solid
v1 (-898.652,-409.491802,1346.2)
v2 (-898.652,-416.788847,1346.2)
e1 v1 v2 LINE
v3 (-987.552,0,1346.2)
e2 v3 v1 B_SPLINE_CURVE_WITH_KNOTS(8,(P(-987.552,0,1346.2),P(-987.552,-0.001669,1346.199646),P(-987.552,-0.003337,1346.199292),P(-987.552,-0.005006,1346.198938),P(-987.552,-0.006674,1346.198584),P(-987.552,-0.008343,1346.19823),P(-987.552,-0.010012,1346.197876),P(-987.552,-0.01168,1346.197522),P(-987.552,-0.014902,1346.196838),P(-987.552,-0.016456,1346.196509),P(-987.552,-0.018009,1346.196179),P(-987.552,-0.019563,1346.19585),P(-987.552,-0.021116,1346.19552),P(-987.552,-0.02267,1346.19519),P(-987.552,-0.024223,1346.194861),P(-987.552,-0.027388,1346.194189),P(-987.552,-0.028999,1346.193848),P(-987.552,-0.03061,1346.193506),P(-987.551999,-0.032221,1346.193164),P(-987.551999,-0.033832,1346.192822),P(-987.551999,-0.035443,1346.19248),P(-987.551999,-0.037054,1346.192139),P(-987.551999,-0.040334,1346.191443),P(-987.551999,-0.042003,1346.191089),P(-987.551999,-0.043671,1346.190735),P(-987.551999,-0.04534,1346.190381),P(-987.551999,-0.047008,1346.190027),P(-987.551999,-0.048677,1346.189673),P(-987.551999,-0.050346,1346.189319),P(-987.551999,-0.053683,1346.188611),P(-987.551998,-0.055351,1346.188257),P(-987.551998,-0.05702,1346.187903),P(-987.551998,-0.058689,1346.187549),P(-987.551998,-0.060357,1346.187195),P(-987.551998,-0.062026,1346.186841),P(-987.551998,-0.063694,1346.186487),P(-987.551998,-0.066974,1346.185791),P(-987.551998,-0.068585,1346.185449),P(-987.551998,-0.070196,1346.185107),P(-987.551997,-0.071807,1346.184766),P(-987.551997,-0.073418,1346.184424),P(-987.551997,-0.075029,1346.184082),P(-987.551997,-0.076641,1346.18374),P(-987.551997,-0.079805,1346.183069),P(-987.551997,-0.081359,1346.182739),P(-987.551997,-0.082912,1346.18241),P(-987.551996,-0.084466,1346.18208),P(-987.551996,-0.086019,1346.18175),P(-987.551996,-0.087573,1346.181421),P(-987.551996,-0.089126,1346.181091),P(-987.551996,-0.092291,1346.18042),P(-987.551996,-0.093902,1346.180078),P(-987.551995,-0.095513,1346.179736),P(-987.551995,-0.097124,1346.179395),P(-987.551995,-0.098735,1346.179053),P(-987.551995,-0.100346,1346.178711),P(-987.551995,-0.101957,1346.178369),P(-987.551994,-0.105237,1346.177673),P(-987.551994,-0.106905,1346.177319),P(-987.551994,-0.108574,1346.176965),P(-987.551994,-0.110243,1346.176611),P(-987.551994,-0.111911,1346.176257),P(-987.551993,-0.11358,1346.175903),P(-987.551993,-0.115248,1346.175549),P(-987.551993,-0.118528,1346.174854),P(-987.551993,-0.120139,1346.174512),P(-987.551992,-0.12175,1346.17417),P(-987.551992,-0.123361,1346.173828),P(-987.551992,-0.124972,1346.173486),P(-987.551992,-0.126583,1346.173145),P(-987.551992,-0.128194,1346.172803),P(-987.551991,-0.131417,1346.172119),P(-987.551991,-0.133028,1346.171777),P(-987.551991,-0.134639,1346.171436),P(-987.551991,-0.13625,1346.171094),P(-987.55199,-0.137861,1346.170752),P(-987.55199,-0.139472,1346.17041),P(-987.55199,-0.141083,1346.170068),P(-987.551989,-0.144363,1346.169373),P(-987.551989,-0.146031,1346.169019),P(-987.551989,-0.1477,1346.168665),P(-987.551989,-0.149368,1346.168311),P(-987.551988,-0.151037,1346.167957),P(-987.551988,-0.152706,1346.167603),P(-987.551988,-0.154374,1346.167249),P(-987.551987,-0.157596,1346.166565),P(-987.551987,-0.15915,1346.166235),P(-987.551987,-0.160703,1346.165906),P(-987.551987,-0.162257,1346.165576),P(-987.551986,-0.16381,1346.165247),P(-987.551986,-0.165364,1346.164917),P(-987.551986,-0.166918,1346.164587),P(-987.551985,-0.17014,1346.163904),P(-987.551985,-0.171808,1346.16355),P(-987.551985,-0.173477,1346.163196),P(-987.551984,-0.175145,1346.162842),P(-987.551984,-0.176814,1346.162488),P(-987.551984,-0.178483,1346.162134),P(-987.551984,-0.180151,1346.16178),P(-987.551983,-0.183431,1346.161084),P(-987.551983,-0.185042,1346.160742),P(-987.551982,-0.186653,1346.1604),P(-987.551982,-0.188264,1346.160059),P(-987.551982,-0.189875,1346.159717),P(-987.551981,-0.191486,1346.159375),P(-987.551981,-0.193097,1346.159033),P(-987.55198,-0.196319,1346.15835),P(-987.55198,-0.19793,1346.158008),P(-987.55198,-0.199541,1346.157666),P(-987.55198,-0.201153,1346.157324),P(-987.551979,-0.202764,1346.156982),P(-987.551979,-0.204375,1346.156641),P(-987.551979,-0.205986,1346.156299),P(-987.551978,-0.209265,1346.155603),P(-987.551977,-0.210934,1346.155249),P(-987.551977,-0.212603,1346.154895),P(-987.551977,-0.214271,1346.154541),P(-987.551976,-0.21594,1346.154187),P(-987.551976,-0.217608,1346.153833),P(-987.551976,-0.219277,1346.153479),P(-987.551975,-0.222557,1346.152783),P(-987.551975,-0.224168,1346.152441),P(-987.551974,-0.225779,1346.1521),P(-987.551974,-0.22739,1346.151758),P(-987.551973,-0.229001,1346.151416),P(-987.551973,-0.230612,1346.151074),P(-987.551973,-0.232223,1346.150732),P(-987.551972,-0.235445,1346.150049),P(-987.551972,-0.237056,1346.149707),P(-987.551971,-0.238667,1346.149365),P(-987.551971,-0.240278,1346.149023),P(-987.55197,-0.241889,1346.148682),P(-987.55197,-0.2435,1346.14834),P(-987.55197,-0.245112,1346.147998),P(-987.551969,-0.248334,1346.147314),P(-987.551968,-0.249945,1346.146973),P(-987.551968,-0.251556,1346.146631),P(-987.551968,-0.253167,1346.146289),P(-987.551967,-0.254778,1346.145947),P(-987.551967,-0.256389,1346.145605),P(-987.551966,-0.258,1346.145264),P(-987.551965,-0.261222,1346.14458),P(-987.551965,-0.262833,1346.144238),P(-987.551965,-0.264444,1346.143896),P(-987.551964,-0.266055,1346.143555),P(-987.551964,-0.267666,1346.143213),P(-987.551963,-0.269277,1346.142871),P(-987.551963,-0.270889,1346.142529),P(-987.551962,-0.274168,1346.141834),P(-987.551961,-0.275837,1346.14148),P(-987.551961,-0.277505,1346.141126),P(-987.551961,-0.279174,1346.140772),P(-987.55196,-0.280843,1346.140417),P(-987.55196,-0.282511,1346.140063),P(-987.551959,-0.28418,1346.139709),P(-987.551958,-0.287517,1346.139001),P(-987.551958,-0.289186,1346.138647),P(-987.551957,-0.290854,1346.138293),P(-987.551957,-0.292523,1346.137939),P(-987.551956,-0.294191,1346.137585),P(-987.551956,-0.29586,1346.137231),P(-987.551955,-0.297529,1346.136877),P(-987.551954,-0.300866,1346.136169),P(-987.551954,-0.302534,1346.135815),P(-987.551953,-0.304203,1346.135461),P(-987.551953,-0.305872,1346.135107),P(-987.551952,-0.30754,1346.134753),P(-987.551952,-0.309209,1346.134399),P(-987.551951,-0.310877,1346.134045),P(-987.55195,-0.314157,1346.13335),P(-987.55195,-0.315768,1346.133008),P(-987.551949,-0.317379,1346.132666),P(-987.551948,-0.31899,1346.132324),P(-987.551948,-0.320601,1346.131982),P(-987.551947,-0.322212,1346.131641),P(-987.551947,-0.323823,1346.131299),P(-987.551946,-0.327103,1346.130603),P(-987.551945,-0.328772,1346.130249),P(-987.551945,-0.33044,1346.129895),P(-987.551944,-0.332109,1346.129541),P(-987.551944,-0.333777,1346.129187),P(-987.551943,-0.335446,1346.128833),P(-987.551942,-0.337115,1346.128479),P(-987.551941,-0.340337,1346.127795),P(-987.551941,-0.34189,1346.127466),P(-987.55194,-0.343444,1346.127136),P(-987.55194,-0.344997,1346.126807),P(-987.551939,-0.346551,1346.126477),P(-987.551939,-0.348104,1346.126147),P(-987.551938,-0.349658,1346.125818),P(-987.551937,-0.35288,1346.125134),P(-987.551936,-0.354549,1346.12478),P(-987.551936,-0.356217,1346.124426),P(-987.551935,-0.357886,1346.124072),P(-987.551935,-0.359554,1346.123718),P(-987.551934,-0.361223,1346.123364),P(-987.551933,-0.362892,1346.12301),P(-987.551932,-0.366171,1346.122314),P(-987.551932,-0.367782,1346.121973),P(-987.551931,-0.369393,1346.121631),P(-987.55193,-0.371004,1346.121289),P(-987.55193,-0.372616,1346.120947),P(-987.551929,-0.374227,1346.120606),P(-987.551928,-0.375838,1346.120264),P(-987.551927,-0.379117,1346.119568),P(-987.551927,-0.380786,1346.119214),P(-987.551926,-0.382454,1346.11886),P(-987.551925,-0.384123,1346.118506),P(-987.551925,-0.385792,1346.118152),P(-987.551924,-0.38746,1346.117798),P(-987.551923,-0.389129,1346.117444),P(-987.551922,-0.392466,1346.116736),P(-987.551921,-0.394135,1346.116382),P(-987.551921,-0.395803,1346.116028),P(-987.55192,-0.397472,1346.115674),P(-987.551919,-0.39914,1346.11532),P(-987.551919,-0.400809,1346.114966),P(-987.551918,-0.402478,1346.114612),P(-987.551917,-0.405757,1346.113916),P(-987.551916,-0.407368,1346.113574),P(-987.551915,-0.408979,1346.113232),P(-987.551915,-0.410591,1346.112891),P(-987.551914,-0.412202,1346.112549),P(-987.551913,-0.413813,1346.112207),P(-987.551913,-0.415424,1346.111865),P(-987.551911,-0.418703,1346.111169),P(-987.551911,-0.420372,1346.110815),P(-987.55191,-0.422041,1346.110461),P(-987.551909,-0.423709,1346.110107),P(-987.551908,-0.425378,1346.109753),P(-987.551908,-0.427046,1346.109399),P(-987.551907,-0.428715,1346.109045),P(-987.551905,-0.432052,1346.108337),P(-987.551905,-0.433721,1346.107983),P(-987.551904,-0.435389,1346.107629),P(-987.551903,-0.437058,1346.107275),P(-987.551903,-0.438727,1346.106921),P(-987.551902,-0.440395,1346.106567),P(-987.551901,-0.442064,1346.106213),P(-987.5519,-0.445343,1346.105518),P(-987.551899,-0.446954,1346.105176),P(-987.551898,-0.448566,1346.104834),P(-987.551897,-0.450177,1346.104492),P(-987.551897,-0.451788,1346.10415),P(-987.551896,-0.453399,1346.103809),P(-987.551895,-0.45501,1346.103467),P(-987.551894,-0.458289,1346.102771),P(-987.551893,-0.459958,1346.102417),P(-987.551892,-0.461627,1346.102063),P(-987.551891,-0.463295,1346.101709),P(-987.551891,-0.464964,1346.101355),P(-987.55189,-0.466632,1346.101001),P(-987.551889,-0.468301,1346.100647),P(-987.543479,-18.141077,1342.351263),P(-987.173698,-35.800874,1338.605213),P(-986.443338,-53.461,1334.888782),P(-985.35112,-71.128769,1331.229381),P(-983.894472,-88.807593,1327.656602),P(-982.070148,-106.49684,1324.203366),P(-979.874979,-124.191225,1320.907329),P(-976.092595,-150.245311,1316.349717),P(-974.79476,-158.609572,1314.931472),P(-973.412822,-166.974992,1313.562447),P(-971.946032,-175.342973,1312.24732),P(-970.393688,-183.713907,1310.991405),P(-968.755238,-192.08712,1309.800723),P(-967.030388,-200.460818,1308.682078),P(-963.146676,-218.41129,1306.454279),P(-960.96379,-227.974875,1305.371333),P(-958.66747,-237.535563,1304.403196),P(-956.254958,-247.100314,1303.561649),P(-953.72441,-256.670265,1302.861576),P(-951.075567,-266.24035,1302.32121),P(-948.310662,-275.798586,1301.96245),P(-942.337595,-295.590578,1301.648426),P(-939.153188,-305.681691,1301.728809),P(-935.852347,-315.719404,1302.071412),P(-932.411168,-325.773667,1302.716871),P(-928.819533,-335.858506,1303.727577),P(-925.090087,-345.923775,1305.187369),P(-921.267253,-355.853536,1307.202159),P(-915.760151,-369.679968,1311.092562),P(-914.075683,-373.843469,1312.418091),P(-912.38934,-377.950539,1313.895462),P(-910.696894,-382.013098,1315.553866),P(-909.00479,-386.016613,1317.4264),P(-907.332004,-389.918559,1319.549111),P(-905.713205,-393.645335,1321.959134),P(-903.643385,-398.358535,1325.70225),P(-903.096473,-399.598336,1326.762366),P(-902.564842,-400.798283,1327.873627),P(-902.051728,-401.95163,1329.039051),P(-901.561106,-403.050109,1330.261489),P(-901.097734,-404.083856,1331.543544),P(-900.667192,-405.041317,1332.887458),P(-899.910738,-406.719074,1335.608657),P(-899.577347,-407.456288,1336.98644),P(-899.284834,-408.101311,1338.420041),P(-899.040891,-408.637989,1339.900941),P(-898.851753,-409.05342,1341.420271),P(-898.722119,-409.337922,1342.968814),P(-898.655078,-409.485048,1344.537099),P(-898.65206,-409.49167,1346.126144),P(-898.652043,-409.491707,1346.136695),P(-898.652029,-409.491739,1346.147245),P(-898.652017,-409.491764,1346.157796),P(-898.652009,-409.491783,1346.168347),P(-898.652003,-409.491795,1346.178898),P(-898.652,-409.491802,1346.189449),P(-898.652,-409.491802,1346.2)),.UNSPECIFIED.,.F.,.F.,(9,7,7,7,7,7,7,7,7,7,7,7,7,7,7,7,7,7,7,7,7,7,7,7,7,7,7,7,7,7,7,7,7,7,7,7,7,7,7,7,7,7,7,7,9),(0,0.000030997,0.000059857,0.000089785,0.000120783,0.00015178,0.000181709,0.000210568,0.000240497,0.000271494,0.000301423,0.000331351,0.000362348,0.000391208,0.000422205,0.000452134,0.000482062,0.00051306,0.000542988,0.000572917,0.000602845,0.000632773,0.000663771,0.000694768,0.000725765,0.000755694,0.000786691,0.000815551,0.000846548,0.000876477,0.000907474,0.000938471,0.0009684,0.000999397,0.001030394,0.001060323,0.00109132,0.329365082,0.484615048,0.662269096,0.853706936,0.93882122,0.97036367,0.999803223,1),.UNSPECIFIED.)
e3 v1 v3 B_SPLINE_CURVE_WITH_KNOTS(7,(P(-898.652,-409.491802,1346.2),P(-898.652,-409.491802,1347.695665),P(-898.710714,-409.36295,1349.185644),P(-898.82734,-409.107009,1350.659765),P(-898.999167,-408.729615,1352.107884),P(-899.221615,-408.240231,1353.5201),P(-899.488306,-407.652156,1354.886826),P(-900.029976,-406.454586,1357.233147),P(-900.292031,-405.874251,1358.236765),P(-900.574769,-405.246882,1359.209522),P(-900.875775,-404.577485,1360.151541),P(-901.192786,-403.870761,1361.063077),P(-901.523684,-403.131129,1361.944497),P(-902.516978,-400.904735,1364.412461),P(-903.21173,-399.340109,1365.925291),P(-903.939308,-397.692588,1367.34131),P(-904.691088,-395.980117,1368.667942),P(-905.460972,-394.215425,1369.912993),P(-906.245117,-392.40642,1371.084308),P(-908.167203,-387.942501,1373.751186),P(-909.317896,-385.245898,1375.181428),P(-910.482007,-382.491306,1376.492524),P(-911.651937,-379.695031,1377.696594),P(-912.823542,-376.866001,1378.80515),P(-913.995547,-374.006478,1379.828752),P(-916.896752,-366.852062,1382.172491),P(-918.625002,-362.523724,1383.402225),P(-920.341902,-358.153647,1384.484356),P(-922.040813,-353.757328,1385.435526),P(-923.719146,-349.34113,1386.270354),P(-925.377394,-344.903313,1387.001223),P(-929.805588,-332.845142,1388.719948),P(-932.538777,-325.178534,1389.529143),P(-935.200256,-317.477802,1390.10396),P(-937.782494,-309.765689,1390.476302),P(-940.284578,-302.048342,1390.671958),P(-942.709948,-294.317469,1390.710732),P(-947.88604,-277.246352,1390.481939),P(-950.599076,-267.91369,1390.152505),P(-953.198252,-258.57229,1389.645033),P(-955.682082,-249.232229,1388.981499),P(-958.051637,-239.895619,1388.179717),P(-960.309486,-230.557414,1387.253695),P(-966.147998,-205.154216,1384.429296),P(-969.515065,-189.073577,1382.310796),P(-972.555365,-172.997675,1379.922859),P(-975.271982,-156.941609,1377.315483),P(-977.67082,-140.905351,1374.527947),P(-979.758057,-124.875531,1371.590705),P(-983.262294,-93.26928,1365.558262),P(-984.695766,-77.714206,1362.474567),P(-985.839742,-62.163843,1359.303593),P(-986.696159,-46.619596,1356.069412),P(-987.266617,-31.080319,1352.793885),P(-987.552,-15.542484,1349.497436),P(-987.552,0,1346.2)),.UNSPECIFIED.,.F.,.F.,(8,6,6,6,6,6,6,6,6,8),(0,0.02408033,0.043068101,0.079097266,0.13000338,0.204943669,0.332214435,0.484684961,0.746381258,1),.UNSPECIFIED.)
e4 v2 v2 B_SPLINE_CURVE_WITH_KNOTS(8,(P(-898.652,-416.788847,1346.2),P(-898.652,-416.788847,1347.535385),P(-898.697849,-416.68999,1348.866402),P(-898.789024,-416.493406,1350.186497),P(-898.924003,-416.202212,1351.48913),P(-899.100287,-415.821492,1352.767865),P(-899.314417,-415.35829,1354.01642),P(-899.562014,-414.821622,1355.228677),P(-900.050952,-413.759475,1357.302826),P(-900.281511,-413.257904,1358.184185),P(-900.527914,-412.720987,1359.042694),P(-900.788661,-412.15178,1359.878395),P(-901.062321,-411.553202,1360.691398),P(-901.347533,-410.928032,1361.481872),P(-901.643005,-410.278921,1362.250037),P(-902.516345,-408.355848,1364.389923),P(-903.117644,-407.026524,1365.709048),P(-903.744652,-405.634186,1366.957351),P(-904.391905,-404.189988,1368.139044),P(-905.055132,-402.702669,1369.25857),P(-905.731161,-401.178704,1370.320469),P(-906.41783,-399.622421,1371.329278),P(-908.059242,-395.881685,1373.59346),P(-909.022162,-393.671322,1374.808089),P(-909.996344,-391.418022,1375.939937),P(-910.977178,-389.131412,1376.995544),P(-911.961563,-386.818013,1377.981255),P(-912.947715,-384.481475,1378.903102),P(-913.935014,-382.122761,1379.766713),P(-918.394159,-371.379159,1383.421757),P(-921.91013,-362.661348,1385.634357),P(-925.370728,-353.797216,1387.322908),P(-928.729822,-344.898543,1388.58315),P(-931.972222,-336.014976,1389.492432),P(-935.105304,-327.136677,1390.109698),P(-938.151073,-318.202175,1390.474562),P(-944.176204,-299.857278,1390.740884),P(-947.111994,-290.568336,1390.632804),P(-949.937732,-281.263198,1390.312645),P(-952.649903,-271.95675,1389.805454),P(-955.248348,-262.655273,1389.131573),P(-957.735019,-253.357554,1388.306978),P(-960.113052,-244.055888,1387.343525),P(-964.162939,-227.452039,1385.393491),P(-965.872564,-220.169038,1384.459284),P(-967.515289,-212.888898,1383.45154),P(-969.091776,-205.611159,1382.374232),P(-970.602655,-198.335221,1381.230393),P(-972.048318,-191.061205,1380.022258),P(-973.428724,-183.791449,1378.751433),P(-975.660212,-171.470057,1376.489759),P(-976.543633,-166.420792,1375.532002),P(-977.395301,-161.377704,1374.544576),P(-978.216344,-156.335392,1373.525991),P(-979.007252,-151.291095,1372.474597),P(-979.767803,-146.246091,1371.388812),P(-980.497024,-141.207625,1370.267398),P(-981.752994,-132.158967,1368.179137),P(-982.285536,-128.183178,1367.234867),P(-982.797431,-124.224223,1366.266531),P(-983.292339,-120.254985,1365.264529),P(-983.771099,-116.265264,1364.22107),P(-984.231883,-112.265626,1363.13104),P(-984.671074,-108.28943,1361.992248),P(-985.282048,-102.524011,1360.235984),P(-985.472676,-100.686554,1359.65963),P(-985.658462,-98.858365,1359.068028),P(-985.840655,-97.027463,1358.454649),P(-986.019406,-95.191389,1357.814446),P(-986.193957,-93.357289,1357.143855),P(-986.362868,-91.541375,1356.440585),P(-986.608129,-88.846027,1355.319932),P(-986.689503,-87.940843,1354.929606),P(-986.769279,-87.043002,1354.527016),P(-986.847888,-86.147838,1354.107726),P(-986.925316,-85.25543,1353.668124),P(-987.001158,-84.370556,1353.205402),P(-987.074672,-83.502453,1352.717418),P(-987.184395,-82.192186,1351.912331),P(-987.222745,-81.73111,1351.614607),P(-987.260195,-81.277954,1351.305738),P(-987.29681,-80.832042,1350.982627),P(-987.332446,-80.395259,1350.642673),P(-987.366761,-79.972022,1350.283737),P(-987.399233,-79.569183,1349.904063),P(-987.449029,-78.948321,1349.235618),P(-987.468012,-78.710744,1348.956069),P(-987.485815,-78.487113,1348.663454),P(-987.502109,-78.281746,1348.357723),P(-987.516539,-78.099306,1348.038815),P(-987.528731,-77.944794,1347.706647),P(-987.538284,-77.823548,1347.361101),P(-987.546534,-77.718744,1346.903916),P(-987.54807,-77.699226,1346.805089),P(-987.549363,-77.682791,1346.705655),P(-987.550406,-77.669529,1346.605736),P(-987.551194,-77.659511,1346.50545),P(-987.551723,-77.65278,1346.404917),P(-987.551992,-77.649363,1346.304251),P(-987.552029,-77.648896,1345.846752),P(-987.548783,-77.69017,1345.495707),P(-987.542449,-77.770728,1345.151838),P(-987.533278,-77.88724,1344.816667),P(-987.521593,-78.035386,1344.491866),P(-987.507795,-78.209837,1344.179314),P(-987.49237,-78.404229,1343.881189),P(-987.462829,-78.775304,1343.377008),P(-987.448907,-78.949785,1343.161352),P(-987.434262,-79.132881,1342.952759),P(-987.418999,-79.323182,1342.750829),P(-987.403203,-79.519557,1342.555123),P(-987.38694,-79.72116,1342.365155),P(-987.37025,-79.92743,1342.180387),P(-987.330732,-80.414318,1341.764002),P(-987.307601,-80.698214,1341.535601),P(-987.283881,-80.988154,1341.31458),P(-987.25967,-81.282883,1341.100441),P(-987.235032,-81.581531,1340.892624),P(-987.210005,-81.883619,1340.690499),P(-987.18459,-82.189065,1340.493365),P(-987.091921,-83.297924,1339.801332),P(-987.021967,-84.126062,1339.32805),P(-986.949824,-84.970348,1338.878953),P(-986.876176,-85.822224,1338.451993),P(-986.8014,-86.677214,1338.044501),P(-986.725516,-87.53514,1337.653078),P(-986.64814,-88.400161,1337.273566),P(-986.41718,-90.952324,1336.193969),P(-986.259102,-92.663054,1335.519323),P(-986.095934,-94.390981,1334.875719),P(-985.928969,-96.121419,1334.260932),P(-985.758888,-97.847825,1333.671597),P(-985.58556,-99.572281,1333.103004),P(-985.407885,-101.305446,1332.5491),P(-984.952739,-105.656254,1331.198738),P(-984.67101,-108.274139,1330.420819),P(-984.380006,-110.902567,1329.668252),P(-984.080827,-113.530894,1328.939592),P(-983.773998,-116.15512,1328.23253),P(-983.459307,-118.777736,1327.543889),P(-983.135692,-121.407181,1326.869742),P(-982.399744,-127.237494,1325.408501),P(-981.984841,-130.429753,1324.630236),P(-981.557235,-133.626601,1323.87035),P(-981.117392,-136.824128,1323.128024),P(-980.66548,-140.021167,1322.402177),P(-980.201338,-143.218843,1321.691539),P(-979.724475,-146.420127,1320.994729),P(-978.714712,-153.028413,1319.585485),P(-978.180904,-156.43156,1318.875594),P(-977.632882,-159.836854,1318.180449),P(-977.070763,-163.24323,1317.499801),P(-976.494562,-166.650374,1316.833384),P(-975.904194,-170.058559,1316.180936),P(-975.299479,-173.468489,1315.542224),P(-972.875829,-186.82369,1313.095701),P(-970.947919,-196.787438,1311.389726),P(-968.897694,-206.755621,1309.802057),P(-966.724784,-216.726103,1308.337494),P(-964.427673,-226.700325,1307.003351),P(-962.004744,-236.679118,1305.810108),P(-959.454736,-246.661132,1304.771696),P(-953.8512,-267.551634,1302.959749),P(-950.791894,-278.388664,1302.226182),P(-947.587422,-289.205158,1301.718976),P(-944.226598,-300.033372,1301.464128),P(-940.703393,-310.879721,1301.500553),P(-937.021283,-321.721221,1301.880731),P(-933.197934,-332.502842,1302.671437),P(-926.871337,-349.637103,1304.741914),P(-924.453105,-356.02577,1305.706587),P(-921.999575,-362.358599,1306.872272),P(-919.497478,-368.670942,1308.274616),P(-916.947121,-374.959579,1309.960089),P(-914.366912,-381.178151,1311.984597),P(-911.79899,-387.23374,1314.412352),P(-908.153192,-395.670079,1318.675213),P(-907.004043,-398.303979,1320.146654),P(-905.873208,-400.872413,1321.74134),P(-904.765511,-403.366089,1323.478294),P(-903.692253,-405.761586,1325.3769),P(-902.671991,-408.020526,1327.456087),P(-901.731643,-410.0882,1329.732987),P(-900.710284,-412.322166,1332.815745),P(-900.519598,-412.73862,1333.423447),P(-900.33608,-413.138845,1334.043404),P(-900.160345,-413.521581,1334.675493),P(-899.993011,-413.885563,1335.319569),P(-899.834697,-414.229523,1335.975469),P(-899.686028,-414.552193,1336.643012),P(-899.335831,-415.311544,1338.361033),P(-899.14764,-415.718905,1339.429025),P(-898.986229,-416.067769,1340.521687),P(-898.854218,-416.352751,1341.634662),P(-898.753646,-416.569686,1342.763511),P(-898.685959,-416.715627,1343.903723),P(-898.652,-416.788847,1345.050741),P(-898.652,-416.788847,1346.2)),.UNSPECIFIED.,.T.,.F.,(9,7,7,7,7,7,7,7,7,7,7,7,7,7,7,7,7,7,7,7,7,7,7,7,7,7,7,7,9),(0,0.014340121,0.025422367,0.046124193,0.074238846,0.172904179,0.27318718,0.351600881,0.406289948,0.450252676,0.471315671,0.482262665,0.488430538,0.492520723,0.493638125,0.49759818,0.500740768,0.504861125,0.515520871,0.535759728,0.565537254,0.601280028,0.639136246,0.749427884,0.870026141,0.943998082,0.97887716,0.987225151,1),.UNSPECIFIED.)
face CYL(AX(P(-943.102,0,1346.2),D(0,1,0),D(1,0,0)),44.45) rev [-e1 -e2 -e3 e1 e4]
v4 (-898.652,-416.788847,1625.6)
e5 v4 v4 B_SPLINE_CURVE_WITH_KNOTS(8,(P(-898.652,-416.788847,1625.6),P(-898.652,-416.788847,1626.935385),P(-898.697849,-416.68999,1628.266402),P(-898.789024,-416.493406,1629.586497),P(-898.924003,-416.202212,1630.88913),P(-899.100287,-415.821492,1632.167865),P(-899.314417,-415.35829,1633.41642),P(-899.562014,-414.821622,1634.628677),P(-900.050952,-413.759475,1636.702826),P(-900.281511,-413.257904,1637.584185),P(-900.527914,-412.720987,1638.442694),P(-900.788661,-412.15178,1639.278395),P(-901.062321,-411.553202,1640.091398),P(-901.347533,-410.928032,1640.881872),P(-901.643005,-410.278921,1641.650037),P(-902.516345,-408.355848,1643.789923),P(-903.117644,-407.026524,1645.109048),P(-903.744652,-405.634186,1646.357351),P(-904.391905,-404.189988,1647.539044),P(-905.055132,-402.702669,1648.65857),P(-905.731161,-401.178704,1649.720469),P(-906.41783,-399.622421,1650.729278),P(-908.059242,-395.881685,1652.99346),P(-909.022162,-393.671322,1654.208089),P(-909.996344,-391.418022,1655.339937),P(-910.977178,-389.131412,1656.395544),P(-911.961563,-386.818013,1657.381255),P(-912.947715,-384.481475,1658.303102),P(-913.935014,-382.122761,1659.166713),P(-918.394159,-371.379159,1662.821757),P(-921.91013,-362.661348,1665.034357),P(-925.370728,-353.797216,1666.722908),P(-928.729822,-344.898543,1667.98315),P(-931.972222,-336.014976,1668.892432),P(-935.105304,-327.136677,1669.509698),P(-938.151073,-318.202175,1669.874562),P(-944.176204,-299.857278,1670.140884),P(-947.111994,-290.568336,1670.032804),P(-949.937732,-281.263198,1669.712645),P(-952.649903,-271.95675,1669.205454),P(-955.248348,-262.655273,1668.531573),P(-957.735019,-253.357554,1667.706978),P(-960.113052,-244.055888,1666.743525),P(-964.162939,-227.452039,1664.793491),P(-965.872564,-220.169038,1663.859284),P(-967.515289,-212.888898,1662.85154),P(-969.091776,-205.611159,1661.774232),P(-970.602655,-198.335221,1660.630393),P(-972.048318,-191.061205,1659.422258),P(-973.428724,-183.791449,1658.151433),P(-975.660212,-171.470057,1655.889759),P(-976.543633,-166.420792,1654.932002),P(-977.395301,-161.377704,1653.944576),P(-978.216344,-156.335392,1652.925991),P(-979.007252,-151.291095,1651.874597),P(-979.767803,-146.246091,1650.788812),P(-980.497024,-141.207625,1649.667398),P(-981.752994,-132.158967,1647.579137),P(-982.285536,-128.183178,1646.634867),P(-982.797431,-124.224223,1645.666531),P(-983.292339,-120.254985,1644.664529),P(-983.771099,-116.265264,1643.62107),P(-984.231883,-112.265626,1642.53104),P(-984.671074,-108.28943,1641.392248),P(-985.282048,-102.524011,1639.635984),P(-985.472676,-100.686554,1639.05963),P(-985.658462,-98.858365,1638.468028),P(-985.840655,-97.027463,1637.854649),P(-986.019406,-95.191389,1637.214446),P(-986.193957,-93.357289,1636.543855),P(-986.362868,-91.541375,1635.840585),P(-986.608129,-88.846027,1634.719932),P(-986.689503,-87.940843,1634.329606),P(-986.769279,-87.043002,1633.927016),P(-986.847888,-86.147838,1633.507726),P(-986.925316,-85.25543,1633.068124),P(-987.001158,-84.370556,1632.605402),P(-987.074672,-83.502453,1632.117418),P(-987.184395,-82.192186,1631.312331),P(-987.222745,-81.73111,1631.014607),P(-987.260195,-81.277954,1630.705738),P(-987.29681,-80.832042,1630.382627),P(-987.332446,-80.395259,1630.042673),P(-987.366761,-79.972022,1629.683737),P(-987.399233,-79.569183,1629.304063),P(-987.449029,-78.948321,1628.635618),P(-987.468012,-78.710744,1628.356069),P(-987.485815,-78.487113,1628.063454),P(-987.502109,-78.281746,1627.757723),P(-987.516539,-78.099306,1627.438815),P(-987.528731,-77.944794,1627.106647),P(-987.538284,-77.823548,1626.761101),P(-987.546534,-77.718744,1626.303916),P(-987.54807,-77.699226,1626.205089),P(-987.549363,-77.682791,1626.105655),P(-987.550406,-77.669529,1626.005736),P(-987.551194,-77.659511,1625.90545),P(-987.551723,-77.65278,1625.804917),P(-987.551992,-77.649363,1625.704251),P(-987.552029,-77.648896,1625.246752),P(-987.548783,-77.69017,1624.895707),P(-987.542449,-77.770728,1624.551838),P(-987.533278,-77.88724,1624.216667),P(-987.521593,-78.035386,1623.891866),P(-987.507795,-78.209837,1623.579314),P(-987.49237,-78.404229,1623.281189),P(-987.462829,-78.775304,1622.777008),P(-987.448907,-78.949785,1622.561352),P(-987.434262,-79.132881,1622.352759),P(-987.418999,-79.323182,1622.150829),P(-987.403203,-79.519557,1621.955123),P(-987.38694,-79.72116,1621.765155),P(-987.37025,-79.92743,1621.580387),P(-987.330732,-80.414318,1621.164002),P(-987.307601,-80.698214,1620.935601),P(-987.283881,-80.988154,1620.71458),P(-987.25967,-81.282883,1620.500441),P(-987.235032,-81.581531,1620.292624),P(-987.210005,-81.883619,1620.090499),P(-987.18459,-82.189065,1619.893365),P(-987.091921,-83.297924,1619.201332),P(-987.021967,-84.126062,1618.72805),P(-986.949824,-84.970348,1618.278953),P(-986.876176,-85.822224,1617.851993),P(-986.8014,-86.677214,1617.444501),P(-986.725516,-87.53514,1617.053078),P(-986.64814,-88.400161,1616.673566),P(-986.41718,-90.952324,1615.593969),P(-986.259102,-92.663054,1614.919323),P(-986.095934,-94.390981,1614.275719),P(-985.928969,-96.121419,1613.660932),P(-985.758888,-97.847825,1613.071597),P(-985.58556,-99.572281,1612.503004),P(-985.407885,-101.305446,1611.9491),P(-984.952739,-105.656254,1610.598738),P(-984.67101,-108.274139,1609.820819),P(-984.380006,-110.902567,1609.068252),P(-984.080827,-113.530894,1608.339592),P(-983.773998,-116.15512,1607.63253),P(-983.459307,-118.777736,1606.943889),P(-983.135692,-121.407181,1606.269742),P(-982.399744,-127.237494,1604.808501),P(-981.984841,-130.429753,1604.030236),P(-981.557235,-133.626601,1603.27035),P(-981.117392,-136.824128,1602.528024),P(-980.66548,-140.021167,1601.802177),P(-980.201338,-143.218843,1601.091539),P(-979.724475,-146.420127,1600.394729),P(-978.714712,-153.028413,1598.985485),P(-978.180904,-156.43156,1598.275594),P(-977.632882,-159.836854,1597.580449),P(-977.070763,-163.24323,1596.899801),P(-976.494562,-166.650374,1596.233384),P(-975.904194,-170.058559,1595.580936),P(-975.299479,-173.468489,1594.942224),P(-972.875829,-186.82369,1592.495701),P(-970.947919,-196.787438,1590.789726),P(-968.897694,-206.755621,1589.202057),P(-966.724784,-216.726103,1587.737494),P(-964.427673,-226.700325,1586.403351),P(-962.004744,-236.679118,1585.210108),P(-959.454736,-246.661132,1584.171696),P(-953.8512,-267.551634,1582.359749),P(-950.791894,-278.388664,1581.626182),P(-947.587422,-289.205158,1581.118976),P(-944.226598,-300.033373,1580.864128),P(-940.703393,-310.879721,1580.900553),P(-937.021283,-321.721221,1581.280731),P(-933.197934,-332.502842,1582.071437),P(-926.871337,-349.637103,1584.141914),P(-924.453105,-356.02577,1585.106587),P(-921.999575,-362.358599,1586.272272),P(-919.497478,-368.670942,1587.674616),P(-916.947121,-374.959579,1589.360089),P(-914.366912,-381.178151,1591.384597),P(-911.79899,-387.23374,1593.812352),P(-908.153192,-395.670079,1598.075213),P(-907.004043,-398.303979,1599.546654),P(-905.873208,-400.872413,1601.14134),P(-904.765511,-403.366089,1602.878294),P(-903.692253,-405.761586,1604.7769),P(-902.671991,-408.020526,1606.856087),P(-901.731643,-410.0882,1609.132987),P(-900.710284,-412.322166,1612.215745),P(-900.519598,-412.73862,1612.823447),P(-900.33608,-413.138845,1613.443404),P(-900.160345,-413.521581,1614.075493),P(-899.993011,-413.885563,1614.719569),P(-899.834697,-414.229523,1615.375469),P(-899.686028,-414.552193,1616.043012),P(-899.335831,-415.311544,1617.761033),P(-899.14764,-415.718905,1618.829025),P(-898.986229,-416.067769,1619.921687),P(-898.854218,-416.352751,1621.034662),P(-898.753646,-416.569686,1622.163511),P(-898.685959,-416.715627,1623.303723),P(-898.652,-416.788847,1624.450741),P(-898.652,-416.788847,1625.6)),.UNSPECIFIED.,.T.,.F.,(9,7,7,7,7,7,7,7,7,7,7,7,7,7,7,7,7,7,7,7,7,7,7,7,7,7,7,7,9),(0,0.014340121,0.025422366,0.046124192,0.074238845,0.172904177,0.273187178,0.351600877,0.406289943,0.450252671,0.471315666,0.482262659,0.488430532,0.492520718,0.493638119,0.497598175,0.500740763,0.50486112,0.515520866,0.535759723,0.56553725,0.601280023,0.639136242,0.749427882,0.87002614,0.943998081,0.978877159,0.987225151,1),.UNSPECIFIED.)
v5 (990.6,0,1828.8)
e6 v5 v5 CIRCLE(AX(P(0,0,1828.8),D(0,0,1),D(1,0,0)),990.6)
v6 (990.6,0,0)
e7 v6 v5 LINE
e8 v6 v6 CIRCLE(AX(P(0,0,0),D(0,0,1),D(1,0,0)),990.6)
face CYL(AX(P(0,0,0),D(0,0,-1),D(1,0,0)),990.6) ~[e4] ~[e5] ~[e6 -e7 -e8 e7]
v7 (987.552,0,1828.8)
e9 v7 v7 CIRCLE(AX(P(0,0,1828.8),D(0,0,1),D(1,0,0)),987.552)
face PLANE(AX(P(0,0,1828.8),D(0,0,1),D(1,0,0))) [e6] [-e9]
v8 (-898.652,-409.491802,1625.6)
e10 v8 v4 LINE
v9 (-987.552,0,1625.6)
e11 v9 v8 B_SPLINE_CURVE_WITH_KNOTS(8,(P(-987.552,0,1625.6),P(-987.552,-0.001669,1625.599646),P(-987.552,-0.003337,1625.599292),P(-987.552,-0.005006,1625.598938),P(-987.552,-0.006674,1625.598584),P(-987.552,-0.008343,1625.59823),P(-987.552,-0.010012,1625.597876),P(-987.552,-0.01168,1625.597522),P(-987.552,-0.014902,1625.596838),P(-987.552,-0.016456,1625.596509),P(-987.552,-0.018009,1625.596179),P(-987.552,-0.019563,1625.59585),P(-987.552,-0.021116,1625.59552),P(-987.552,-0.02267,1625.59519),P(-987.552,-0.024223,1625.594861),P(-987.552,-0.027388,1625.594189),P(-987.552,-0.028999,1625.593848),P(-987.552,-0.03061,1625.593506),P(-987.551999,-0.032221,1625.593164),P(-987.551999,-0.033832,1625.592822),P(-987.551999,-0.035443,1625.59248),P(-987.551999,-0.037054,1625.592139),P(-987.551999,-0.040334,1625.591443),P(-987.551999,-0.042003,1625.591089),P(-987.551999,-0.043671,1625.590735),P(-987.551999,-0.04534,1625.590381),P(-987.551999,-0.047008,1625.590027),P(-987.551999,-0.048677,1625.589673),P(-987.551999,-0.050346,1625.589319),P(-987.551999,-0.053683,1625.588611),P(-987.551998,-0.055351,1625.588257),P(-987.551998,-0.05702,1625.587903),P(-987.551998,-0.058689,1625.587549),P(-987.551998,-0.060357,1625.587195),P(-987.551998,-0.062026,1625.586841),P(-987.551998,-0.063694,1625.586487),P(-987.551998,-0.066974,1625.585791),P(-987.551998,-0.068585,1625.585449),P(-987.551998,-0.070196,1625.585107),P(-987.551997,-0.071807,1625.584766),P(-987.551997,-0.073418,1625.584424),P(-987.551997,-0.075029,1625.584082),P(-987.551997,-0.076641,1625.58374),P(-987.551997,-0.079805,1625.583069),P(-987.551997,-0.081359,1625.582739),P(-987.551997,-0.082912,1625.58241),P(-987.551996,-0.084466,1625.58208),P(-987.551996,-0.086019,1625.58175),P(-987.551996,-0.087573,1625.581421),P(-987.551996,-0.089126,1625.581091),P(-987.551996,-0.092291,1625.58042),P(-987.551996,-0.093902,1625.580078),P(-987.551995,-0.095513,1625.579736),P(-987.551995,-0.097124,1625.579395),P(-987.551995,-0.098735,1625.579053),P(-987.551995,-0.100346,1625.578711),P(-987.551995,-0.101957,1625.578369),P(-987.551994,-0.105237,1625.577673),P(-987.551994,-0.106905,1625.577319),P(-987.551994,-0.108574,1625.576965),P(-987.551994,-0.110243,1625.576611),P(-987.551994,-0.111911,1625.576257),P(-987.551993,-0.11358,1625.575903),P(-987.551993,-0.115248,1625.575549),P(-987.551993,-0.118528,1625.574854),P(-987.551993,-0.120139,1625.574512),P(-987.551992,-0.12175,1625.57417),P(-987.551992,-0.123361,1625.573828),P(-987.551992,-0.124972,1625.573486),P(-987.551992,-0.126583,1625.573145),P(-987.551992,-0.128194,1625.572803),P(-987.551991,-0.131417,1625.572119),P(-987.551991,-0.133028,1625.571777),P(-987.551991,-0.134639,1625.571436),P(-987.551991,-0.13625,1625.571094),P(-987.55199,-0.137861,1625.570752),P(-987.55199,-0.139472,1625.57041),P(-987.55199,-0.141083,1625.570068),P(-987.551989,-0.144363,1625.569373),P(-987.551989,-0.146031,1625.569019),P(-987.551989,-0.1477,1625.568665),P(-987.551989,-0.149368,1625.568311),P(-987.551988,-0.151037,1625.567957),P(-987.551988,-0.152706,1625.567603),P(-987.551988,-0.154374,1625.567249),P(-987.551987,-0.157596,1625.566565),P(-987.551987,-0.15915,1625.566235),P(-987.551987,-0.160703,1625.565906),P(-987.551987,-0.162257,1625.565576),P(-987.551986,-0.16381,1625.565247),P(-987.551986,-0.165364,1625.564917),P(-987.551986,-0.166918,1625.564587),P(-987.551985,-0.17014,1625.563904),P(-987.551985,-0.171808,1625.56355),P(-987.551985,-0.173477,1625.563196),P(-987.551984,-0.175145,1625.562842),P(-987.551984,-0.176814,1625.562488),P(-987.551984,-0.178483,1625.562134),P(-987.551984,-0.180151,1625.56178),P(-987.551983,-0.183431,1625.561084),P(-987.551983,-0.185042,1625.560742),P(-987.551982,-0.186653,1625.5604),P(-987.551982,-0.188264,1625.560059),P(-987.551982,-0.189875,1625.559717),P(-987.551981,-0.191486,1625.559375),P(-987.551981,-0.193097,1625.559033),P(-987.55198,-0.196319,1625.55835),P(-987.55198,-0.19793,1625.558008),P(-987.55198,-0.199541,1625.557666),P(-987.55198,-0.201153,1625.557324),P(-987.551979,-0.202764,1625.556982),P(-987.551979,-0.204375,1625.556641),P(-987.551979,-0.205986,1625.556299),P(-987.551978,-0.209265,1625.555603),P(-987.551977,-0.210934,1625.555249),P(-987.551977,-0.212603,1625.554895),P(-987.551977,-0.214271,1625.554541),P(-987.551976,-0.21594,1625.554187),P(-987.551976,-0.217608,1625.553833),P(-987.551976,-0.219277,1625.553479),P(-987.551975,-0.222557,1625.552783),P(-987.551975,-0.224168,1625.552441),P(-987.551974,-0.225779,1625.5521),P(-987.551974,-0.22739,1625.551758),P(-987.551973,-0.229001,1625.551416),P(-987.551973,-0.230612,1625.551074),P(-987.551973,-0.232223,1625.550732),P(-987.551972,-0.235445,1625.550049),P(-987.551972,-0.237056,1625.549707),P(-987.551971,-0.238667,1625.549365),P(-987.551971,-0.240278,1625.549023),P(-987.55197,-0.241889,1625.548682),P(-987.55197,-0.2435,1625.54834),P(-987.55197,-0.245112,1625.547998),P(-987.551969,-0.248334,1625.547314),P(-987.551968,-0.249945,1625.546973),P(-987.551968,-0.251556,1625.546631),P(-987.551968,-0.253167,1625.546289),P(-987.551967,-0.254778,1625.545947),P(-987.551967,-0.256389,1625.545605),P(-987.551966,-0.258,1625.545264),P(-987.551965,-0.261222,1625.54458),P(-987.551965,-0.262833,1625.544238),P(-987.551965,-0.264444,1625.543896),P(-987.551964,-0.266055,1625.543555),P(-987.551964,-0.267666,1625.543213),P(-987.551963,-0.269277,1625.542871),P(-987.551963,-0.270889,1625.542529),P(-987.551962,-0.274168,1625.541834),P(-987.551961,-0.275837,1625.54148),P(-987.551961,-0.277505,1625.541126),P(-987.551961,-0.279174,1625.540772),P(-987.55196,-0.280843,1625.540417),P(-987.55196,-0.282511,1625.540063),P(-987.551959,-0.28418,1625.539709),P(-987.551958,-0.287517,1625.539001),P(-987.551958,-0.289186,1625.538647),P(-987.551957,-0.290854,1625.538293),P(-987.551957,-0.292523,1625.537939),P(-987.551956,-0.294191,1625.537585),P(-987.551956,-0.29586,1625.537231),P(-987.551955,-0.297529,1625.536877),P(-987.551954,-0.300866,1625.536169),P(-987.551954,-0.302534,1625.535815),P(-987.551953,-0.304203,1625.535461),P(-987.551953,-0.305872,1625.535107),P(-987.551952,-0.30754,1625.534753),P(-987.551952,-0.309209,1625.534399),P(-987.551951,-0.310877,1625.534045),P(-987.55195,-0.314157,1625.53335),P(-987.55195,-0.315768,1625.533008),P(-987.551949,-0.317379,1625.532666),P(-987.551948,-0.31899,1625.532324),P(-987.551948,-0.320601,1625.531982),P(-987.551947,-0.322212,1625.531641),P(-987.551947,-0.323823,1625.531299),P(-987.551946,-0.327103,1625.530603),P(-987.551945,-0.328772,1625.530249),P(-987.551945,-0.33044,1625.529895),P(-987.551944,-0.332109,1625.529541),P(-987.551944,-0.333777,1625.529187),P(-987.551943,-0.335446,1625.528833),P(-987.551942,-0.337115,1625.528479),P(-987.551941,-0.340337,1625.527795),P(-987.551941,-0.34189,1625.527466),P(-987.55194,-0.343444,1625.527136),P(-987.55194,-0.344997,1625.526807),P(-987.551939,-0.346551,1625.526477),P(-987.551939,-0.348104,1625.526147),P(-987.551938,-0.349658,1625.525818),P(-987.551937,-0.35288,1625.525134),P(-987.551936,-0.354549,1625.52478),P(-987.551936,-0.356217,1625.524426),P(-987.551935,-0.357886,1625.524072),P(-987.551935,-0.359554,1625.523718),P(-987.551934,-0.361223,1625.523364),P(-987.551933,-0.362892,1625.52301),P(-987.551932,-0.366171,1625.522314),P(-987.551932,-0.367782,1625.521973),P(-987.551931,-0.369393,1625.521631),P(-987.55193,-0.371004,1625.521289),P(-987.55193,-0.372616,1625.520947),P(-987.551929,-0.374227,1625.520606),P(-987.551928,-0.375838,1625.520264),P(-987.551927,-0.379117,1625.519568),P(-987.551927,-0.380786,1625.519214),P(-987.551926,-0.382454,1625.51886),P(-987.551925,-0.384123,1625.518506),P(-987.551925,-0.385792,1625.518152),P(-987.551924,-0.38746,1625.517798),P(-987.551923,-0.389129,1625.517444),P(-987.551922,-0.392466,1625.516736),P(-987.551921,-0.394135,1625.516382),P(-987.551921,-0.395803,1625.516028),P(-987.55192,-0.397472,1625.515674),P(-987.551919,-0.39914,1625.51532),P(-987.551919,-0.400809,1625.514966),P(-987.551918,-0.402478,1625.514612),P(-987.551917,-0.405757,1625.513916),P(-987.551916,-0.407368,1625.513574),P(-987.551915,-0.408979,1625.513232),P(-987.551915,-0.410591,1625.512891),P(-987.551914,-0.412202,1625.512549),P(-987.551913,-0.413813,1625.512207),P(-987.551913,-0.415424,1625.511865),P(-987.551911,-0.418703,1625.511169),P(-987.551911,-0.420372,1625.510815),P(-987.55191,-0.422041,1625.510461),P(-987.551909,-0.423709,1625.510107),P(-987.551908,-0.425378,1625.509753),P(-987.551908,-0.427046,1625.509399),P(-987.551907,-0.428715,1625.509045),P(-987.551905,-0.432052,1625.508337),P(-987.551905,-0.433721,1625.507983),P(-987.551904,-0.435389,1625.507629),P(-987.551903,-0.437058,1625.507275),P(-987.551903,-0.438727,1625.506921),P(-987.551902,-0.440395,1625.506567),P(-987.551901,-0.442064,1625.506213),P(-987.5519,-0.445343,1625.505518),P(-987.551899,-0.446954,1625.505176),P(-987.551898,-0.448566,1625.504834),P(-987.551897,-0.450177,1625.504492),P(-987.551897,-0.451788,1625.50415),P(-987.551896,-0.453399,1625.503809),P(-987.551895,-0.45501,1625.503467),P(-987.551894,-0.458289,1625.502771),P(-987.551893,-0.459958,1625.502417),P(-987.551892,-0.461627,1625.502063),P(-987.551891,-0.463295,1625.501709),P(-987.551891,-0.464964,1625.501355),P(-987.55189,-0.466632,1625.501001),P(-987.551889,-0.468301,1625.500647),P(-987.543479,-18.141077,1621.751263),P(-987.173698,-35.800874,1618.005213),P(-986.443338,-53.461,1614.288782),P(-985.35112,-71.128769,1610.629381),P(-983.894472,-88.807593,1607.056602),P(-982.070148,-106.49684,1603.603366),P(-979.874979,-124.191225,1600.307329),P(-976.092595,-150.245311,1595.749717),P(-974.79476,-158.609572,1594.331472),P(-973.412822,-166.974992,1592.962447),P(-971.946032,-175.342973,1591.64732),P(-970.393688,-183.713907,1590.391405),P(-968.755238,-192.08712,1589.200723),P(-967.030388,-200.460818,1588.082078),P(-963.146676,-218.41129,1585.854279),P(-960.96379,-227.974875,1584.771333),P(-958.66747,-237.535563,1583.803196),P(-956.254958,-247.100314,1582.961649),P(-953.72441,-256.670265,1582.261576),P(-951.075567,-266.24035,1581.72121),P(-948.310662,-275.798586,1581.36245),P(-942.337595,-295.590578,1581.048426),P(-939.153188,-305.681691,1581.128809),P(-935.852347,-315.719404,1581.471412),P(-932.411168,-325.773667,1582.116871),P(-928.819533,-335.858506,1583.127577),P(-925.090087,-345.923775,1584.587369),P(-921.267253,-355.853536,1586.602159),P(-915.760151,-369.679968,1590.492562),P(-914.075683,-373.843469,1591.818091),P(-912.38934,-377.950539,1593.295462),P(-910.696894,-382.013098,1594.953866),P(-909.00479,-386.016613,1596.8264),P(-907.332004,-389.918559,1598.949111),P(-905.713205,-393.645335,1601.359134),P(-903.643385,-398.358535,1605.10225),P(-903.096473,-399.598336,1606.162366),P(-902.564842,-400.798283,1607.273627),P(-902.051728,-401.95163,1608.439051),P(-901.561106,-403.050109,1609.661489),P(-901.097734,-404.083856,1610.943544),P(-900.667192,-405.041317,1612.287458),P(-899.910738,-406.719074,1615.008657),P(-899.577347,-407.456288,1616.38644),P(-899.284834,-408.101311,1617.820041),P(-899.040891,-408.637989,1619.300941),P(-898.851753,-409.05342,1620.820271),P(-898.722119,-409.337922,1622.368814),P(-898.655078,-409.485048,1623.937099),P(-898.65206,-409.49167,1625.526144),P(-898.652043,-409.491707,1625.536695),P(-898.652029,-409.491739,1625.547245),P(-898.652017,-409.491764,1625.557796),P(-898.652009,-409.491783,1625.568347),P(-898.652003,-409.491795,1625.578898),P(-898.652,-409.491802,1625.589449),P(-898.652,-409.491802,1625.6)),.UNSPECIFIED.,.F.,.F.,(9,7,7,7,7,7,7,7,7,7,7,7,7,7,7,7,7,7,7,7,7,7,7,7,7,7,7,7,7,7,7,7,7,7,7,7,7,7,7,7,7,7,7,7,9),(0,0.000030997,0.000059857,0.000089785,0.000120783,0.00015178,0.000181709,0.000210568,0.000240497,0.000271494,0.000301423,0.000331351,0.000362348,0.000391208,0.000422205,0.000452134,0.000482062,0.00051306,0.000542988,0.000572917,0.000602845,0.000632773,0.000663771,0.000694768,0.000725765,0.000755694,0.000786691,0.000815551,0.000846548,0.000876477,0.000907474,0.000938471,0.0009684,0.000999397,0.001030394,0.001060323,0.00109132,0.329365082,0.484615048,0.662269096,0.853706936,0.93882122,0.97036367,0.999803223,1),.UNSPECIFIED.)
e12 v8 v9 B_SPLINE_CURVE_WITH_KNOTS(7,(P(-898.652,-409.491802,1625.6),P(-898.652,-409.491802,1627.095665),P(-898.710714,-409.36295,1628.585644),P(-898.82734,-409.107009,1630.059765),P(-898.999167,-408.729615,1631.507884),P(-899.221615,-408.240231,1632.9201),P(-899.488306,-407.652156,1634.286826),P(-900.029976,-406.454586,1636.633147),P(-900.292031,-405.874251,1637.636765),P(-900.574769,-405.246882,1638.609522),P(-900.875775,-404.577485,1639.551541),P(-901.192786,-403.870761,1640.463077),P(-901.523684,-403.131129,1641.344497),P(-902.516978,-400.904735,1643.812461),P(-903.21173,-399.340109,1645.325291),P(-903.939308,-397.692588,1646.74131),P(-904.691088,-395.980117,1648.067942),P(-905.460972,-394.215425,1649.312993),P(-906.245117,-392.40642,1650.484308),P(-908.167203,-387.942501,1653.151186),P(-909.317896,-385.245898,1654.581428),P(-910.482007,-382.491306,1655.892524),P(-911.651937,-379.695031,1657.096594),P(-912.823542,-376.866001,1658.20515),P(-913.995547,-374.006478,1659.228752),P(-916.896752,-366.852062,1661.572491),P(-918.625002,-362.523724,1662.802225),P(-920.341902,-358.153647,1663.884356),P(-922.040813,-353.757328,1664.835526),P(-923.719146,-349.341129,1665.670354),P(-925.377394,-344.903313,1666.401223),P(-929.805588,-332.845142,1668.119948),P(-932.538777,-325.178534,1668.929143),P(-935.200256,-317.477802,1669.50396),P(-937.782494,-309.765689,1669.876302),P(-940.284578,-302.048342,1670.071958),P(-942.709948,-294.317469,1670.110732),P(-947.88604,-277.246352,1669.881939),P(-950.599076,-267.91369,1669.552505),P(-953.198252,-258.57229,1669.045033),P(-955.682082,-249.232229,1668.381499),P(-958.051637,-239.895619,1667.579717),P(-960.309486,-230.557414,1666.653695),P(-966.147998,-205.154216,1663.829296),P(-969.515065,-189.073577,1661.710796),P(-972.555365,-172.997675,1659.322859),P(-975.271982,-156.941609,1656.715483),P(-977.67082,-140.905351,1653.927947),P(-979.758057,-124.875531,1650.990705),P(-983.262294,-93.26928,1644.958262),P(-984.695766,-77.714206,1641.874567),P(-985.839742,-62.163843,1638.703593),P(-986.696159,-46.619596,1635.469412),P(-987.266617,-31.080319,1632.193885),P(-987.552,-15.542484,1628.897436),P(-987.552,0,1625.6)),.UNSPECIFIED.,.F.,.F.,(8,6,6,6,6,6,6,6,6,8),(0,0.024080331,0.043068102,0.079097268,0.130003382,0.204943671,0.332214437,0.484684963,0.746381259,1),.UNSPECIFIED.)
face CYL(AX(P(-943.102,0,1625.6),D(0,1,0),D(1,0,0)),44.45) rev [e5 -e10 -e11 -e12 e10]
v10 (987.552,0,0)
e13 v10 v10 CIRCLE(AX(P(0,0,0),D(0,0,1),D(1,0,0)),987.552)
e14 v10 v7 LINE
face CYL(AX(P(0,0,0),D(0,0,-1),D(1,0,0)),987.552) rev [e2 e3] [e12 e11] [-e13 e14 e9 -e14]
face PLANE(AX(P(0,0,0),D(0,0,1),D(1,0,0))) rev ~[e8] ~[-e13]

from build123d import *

# Parameters (mm, degrees)
F0_R     = 990.6
F0_R_2   = 987.552
F1_DEPTH = 1828.8
F2_R     = 44.45
F3_DEPTH = 990.601


with BuildPart() as f1:
    # F0 (on Top) → F1 (new body)
    with BuildSketch(Plane.XY):
        Circle(F0_R)
        Circle(F0_R_2, mode=Mode.SUBTRACT)
    extrude(amount=F1_DEPTH)

    # F2 (on Front) → F3 (cut, through all)
    with BuildSketch(Plane.XZ):
        with Locations((-943.102, 1625.6)):
            Circle(F2_R)
        with Locations((-943.102, 1346.2)):
            Circle(F2_R)
    extrude(amount=F3_DEPTH, mode=Mode.SUBTRACT)


solid = f1.part
